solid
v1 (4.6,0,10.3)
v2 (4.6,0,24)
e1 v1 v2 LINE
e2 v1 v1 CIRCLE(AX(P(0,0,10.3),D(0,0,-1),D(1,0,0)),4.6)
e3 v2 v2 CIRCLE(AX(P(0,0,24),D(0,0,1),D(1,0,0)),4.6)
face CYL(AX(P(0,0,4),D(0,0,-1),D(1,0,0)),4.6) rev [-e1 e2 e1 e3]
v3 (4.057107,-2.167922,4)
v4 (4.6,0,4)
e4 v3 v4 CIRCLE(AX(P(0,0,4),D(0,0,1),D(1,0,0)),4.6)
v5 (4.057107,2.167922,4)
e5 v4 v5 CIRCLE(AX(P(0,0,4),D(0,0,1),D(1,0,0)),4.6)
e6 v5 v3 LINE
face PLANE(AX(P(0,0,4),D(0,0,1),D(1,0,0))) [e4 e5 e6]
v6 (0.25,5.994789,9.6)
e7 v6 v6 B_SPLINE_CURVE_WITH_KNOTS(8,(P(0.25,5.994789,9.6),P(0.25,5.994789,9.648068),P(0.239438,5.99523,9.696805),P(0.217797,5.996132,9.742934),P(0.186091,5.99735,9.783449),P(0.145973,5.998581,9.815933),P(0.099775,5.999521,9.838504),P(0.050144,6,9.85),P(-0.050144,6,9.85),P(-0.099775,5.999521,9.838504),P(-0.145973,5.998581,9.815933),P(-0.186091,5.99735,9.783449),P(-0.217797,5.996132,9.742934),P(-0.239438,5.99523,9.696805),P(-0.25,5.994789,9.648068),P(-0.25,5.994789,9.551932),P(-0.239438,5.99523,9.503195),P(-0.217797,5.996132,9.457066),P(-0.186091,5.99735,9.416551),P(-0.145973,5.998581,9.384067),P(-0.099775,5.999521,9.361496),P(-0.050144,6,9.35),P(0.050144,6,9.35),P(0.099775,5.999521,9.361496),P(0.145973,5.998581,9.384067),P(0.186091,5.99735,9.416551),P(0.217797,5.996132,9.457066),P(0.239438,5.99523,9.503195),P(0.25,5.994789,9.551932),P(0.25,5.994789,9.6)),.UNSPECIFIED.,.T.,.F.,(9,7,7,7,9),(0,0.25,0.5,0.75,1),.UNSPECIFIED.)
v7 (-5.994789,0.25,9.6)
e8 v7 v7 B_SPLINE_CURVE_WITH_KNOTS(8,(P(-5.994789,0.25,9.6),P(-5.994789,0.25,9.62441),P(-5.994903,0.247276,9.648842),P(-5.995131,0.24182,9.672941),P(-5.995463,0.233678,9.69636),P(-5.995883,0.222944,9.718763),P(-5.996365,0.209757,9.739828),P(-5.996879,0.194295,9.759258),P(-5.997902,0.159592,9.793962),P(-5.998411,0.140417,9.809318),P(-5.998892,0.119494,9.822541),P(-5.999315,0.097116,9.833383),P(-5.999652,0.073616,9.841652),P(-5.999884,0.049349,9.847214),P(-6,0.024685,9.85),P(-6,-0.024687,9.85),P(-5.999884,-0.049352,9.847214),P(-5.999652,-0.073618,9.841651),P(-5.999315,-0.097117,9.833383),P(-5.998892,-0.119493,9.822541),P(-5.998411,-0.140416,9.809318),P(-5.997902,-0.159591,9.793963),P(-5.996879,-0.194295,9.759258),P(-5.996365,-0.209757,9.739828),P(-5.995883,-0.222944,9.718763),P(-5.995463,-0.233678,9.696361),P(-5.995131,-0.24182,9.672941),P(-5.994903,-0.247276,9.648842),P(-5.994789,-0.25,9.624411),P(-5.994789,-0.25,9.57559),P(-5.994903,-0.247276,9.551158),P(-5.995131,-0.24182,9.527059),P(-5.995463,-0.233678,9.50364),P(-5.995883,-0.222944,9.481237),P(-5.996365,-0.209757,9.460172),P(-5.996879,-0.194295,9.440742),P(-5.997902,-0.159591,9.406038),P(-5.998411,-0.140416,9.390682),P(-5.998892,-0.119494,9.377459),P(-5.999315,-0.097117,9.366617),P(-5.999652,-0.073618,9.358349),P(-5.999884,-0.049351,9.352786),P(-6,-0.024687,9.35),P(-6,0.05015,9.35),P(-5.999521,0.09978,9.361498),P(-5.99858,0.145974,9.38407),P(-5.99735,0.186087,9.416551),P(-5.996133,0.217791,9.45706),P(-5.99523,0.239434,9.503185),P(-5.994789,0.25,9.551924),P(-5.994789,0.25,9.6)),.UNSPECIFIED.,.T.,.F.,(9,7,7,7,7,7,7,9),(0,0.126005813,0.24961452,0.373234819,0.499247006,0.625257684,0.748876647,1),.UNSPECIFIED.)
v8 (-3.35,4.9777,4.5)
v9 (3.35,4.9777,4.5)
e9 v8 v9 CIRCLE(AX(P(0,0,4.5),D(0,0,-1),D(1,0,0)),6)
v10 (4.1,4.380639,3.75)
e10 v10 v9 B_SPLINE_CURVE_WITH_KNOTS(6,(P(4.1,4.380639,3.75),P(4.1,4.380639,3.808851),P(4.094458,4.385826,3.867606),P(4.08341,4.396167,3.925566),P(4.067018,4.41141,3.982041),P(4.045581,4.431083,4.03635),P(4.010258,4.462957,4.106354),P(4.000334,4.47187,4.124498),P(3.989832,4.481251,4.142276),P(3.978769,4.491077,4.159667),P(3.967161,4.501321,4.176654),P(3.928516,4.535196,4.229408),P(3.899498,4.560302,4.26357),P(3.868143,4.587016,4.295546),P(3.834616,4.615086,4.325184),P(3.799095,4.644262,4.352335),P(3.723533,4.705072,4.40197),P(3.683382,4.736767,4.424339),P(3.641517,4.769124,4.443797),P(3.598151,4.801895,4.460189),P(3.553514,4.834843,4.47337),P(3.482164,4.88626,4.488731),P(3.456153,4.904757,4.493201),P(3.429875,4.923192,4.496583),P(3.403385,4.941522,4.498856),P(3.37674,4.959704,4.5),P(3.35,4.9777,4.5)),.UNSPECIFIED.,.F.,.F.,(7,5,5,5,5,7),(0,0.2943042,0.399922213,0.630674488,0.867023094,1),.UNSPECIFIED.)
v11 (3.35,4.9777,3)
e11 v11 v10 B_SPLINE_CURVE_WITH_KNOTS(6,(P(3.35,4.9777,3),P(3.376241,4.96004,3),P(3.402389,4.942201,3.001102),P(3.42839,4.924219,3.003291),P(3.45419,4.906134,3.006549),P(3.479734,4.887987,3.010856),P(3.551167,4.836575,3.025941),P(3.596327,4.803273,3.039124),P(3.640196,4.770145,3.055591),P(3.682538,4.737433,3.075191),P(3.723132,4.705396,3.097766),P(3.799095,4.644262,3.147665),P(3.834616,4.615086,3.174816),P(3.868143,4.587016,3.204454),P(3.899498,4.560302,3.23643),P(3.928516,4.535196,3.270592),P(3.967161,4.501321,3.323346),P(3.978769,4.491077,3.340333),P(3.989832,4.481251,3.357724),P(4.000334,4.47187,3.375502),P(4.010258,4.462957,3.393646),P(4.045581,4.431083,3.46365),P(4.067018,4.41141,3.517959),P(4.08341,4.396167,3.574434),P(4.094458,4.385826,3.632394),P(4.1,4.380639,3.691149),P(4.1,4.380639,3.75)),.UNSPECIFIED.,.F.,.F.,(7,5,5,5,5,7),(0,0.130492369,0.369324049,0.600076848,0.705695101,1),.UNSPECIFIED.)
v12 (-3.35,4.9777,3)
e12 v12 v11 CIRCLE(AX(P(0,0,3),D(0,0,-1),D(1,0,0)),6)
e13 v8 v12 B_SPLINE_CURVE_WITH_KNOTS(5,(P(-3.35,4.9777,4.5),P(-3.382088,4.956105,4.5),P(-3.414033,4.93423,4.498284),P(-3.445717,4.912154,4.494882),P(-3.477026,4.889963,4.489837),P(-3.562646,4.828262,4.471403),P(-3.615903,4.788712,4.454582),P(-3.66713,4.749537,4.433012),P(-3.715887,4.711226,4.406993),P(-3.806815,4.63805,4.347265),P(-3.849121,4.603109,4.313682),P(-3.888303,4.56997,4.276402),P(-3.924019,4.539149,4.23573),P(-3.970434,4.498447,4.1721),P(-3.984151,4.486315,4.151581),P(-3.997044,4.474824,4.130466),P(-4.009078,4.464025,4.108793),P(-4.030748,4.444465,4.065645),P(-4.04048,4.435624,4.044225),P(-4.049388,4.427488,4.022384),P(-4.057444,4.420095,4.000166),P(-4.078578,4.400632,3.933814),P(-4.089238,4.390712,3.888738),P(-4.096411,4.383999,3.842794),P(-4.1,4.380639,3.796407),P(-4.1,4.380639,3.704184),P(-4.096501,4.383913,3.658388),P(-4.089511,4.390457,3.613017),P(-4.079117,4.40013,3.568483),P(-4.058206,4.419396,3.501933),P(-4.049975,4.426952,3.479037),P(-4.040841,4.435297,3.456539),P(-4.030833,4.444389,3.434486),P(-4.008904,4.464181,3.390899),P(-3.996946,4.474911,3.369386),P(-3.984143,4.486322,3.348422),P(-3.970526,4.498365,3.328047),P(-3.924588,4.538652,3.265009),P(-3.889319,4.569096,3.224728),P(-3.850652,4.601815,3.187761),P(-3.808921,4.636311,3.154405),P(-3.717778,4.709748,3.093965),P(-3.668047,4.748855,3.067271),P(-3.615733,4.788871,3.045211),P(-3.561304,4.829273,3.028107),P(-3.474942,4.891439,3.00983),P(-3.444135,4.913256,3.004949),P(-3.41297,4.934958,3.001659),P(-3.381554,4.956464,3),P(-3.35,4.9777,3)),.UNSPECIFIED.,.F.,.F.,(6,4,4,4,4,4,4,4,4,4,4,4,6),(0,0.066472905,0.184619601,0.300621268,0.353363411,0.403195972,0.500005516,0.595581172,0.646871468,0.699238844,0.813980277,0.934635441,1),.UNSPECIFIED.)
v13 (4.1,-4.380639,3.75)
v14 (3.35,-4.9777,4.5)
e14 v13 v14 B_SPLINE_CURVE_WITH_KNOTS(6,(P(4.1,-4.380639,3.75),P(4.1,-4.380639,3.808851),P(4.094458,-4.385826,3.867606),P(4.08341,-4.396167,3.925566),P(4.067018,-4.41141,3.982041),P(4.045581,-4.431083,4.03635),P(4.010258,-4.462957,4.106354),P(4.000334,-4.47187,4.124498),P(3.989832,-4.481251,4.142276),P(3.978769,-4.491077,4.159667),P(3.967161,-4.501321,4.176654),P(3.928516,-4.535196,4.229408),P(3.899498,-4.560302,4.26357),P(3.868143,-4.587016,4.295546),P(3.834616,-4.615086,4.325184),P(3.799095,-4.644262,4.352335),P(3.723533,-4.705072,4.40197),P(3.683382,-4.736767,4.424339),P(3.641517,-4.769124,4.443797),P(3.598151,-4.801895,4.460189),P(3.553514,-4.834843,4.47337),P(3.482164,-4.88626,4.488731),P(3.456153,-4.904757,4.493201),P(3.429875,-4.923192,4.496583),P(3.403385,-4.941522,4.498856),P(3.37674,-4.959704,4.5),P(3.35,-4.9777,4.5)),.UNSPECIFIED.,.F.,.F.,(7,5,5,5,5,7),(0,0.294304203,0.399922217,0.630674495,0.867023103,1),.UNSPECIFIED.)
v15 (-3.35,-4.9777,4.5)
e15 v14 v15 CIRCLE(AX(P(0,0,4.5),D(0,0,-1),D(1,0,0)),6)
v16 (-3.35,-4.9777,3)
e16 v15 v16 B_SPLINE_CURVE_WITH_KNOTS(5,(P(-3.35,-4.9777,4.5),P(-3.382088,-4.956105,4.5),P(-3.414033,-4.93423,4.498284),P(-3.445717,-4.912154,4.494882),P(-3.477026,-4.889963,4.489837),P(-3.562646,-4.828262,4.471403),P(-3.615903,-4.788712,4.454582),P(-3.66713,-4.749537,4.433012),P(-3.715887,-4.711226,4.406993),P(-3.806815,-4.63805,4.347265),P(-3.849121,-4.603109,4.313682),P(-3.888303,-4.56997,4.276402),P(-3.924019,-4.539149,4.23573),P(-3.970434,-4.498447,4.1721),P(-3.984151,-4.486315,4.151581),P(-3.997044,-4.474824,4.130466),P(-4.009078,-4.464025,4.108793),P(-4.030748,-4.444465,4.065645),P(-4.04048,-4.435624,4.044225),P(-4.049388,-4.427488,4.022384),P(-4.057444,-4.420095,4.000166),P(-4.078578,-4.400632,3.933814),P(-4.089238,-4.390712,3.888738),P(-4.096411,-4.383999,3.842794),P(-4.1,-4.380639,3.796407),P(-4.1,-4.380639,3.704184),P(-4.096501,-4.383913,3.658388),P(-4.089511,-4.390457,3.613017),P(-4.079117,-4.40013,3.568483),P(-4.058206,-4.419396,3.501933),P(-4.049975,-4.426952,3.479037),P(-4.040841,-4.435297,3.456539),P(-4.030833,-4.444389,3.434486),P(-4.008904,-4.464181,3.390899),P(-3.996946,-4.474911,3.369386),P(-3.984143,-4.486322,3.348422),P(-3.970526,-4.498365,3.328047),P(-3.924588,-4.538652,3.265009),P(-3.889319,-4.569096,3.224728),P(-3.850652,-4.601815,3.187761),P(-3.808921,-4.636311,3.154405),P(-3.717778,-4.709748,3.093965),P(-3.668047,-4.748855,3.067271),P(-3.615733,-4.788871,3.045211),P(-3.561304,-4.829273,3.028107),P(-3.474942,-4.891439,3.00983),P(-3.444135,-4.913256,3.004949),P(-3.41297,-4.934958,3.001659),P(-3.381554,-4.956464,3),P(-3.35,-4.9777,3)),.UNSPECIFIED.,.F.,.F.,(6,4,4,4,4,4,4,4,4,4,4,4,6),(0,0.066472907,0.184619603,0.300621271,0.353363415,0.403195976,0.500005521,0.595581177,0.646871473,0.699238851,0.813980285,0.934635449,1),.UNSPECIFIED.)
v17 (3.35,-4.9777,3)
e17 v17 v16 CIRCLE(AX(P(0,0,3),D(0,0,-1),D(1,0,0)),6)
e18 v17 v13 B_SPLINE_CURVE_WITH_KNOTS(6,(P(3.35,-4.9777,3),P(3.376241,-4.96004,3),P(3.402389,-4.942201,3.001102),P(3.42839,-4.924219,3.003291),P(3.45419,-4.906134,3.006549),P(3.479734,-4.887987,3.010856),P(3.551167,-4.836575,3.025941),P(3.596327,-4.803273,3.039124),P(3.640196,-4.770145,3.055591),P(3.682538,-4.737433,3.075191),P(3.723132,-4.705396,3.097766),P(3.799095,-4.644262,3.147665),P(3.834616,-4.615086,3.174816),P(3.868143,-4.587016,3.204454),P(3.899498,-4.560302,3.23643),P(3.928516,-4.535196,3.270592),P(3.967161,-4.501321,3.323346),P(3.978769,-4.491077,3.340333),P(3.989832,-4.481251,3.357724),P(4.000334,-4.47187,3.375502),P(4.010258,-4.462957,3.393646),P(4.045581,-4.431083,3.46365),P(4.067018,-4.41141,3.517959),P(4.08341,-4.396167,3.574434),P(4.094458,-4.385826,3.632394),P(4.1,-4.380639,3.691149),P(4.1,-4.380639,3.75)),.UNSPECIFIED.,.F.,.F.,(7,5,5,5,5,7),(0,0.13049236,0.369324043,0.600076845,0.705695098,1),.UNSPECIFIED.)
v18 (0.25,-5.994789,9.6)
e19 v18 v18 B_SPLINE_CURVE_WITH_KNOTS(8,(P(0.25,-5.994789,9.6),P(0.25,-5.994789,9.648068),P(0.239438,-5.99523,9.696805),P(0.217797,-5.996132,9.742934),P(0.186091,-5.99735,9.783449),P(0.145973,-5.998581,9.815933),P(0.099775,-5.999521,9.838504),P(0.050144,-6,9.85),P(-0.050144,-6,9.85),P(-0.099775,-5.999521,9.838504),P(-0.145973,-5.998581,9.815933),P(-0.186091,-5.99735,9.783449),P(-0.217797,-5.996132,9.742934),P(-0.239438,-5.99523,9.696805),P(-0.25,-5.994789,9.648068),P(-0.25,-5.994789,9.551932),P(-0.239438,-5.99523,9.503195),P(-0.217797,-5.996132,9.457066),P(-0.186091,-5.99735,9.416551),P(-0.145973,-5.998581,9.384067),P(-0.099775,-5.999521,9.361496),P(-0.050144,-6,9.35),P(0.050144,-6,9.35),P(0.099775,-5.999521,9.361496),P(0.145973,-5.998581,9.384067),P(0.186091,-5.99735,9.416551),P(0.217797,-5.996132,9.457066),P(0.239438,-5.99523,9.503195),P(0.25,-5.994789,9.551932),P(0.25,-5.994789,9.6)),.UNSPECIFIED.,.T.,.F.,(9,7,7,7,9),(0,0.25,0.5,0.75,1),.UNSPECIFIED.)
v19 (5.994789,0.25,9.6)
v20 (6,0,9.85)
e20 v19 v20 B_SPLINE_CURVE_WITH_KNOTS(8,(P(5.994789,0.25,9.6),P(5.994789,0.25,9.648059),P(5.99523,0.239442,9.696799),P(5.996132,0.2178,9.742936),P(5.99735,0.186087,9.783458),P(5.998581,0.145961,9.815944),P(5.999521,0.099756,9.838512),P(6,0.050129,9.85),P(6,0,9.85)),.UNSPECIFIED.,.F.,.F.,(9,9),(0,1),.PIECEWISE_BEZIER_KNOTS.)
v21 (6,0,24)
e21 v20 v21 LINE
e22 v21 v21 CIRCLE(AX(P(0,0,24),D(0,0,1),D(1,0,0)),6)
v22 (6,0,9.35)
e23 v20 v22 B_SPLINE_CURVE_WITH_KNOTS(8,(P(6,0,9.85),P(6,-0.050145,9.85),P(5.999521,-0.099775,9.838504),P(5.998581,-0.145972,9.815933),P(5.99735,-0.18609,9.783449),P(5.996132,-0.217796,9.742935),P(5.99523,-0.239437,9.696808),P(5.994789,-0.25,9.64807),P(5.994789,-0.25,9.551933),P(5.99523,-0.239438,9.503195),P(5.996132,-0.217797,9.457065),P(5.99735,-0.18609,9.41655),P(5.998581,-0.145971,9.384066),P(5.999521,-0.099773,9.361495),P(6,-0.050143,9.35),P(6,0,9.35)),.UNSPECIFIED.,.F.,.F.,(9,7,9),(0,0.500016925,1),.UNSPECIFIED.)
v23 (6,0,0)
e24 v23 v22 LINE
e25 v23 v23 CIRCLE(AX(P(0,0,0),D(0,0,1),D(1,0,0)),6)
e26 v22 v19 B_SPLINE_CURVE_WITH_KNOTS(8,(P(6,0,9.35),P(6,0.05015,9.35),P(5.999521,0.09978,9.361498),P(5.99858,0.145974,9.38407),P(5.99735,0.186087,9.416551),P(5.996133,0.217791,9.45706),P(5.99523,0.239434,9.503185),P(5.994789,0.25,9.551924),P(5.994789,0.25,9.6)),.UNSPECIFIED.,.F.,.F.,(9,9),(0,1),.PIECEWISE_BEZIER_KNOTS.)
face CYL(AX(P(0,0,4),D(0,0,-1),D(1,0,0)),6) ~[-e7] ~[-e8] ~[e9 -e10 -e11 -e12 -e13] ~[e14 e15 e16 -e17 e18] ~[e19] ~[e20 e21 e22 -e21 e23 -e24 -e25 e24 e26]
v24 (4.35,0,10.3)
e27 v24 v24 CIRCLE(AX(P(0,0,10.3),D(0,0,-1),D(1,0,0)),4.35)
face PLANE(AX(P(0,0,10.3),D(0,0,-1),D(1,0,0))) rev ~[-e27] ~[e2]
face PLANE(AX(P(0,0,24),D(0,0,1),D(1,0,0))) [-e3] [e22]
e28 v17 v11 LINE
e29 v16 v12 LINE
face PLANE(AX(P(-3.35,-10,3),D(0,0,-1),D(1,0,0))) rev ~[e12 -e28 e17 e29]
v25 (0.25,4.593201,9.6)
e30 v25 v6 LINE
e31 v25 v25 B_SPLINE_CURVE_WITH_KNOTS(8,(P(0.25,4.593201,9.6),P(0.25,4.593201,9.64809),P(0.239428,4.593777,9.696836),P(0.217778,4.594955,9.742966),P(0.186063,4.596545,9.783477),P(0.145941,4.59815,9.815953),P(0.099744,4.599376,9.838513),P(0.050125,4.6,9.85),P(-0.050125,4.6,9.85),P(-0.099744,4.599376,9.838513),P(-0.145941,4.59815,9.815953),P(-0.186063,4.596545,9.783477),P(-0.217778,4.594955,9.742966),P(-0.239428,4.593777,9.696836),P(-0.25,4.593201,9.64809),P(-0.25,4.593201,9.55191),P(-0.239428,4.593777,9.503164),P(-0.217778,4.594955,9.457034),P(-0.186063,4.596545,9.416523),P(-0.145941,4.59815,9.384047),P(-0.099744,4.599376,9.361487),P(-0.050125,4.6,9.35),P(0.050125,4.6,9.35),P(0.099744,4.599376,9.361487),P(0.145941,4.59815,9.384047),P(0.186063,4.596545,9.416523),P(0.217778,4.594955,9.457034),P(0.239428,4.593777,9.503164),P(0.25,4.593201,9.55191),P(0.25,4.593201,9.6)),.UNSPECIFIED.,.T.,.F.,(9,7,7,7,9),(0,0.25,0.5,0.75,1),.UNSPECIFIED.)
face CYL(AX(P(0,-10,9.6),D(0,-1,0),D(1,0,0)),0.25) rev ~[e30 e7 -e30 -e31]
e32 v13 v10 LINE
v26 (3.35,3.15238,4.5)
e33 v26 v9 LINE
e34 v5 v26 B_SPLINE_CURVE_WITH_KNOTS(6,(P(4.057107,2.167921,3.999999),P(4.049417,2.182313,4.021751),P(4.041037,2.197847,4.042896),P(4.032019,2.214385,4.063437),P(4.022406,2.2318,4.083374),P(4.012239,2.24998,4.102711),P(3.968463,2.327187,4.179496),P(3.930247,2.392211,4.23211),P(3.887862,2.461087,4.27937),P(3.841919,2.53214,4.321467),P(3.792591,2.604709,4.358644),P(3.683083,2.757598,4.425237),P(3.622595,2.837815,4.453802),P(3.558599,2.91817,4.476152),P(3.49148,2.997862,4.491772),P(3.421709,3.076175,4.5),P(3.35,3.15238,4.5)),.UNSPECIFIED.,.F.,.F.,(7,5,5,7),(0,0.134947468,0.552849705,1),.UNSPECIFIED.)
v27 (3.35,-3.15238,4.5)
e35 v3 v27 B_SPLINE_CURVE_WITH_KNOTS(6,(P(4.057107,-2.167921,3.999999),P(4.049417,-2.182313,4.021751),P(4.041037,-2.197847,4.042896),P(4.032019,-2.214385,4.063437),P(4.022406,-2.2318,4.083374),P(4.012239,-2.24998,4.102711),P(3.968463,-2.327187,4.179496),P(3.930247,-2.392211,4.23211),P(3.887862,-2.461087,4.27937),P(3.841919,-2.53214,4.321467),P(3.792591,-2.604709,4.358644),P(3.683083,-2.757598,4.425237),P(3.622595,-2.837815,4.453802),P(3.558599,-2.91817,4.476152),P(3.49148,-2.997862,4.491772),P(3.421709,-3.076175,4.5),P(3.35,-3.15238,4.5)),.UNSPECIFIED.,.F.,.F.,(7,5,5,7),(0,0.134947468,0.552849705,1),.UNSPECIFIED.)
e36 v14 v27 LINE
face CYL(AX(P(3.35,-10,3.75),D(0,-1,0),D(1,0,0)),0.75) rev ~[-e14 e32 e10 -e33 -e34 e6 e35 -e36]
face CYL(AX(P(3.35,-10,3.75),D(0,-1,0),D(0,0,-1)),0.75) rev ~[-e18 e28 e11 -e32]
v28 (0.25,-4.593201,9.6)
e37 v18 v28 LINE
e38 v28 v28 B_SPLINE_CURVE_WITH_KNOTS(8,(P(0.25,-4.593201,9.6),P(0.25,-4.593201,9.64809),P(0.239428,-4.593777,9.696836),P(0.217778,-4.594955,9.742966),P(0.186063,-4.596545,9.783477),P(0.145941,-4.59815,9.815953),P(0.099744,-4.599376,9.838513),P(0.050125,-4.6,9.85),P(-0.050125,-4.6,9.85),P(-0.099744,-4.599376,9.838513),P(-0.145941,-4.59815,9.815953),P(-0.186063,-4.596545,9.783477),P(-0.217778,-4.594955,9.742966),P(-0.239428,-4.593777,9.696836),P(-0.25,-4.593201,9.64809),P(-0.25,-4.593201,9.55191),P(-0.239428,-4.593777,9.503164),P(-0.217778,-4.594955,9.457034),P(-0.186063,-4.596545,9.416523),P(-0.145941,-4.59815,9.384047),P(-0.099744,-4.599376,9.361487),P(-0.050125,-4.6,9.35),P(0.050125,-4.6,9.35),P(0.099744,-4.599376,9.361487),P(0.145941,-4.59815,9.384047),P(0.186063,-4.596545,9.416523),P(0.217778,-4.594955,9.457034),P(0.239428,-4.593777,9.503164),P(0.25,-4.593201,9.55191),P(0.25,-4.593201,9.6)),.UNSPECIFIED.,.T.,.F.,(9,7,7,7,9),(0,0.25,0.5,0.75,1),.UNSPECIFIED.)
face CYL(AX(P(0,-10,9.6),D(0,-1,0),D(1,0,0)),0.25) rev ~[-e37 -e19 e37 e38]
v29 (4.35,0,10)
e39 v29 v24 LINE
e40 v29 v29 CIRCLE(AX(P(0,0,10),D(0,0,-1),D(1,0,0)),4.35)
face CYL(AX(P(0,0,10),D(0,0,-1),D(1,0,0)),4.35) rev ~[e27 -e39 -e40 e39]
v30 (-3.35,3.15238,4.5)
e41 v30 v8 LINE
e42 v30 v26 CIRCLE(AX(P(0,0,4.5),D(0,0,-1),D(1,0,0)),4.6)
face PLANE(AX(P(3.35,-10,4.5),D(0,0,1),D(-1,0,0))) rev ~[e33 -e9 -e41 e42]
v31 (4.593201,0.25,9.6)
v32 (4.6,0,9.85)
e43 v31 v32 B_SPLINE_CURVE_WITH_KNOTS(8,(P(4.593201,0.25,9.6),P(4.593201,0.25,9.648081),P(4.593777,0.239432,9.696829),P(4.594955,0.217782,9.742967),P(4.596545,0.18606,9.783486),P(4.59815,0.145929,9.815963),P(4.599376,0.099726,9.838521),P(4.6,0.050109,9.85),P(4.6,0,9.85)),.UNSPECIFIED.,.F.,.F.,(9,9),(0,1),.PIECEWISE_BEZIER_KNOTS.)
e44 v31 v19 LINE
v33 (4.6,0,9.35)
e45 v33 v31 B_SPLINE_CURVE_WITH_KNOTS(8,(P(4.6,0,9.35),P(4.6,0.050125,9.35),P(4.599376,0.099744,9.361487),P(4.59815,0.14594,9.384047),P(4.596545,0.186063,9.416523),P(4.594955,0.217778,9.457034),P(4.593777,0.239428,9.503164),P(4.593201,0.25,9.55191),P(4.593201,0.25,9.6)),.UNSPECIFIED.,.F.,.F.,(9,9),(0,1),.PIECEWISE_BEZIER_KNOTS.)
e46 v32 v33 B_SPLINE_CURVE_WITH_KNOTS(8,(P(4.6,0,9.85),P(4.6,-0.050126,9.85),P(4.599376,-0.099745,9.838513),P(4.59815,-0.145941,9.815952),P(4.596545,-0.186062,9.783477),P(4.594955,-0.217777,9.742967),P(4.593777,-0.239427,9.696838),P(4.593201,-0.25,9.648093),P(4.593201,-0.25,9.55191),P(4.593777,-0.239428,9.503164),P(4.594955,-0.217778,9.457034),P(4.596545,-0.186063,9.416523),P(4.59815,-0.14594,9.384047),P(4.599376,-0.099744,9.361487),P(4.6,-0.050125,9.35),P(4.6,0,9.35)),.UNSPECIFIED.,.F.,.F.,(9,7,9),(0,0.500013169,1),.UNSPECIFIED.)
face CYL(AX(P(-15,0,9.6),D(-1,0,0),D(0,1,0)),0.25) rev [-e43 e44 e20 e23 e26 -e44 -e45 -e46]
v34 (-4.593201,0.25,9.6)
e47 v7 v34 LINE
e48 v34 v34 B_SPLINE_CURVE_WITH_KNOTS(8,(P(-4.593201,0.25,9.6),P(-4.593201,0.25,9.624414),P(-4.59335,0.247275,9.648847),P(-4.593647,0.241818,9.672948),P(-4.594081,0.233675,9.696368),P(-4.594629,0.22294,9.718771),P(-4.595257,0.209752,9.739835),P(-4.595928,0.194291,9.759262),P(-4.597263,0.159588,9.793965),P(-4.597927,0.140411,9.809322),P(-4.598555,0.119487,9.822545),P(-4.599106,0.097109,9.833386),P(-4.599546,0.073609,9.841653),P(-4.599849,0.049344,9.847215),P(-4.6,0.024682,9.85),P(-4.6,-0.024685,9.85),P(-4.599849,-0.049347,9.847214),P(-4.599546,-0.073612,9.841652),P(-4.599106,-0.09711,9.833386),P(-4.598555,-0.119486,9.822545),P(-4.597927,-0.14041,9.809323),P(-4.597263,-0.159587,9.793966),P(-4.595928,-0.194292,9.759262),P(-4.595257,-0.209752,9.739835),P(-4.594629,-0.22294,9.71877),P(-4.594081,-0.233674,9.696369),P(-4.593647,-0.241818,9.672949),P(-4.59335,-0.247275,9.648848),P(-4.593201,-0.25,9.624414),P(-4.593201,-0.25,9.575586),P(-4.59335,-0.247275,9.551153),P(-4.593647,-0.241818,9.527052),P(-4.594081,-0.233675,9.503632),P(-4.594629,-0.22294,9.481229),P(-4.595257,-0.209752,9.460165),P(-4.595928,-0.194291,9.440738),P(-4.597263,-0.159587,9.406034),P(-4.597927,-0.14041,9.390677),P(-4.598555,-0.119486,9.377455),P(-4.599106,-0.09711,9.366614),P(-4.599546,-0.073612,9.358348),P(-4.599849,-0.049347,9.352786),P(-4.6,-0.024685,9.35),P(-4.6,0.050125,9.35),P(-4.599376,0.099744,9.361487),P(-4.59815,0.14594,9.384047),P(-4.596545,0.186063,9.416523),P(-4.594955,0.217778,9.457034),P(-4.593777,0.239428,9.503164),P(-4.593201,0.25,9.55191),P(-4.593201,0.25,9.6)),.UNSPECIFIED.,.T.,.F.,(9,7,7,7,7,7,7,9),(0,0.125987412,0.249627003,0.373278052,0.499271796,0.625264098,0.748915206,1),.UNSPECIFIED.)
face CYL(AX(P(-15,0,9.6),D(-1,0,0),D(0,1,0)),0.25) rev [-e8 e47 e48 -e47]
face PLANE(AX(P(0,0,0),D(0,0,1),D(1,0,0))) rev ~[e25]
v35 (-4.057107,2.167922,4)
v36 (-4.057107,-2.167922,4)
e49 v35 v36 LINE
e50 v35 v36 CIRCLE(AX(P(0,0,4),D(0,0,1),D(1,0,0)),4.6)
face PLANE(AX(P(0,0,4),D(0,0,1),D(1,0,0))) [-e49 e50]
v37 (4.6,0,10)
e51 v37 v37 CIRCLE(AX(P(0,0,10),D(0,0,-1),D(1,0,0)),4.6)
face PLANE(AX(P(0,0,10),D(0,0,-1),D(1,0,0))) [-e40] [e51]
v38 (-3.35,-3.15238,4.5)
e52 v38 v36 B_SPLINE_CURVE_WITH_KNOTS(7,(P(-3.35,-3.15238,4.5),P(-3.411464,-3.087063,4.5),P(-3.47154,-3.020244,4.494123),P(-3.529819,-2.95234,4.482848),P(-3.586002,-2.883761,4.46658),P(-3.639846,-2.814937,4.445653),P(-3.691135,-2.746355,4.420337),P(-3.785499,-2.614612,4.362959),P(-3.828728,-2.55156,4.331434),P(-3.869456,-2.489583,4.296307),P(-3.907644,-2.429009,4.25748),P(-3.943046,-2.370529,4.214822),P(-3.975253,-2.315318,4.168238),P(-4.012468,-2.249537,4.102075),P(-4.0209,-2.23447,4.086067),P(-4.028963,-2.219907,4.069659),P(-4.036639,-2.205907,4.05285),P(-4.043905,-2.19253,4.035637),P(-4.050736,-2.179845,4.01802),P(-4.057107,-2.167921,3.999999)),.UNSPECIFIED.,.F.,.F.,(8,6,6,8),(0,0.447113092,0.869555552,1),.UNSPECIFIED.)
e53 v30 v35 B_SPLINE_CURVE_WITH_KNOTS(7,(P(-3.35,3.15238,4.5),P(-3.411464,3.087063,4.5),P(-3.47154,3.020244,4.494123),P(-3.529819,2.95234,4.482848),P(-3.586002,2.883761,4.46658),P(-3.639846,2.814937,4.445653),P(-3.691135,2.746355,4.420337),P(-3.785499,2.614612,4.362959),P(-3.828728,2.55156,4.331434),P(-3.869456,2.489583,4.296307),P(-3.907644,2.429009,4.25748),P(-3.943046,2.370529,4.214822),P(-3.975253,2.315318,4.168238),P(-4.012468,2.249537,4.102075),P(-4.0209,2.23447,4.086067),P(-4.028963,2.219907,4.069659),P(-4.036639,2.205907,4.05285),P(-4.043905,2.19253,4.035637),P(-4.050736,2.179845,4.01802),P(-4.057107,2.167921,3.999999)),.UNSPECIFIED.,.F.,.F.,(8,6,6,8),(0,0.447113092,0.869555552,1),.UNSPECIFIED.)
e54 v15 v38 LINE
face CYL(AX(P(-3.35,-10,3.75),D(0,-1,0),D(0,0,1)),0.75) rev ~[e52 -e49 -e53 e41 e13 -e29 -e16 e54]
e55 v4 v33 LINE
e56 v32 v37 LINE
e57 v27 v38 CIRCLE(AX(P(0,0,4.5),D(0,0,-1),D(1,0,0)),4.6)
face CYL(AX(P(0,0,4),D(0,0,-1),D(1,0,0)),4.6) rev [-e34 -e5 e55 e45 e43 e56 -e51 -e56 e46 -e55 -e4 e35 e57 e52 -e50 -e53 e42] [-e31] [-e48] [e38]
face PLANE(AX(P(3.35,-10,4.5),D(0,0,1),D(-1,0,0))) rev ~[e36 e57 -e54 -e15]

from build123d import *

# Parameters (mm, degrees)
F0_R      = 6
F1_DEPTH  = 4
F2_R      = 6
F2_R_2    = 4.6
F3_DEPTH  = 20
F6_DEPTH  = 25
F8_R      = 4.6
F8_R_2    = 4.35
F9_DEPTH  = 0.3
F10_R     = 0.25
F11_DEPTH = 25
F13_R     = 0.25
F14_DEPTH = 25


with BuildPart() as f1:
    # F0 (on Top) → F1 (new body)
    with BuildSketch(Plane.XY):
        Circle(F0_R)
    extrude(amount=F1_DEPTH)

    # F2 (on face) → F3 (join)
    with BuildSketch(Plane.XY.offset(4)):
        Circle(F2_R)
        Circle(F2_R_2, mode=Mode.SUBTRACT)
    extrude(amount=F3_DEPTH)

    # F5 (on offset) → F6 (cut)
    with BuildSketch(Plane.XZ.offset(10)):
        with BuildLine():
            ThreePointArc((-2.6, 3.75), (-2.8196699141, 4.2803300859), (-3.35, 4.5))
            Line((-3.35, 4.5), (-3.35, 3))
            ThreePointArc((-3.35, 3), (-2.8196699141, 3.2196699141), (-2.6, 3.75))
        make_face()
        with BuildLine():
            Line((3.35, 4.5), (-3.35, 4.5))
            ThreePointArc((-3.35, 4.5), (-2.8196699141, 4.2803300859), (-2.6, 3.75))
            ThreePointArc((-2.6, 3.75), (-2.8196699141, 3.2196699141), (-3.35, 3))
            Line((-3.35, 3), (3.35, 3))
            ThreePointArc((3.35, 3), (2.6, 3.75), (3.35, 4.5))
        make_face()
        with BuildLine():
            Line((-3.35, 3), (-3.35, 4.5))
            ThreePointArc((-3.35, 4.5), (-4.1, 3.75), (-3.35, 3))
        make_face()
        with BuildLine():
            ThreePointArc((4.1, 3.75), (3.8803300859, 4.2803300859), (3.35, 4.5))
            Line((3.35, 4.5), (3.35, 3))
            ThreePointArc((3.35, 3), (3.8803300859, 3.2196699141), (4.1, 3.75))
        make_face()
        with BuildLine():
            Line((3.35, 3), (3.35, 4.5))
            ThreePointArc((3.35, 4.5), (2.6, 3.75), (3.35, 3))
        make_face()
    extrude(amount=-F6_DEPTH, mode=Mode.SUBTRACT)

    # F8 (on offset) → F9 (join)
    with BuildSketch(Plane(origin=(0, 0, 10), x_dir=(1, 0, 0), z_dir=(0, 0, -1))):
        Circle(F8_R)
        Circle(F8_R_2, mode=Mode.SUBTRACT)
    extrude(amount=-F9_DEPTH)

    # F10 (on offset) → F11 (cut)
    with BuildSketch(Plane.XZ.offset(10)):
        with Locations((0, 9.6)):
            Circle(F10_R)
    extrude(amount=-F11_DEPTH, mode=Mode.SUBTRACT)

    # F13 (on offset) → F14 (cut)
    with BuildSketch(Plane.YZ.offset(-15)):
        with Locations((0, 9.6)):
            Circle(F13_R)
    extrude(amount=F14_DEPTH, mode=Mode.SUBTRACT)


solid = f1.part
